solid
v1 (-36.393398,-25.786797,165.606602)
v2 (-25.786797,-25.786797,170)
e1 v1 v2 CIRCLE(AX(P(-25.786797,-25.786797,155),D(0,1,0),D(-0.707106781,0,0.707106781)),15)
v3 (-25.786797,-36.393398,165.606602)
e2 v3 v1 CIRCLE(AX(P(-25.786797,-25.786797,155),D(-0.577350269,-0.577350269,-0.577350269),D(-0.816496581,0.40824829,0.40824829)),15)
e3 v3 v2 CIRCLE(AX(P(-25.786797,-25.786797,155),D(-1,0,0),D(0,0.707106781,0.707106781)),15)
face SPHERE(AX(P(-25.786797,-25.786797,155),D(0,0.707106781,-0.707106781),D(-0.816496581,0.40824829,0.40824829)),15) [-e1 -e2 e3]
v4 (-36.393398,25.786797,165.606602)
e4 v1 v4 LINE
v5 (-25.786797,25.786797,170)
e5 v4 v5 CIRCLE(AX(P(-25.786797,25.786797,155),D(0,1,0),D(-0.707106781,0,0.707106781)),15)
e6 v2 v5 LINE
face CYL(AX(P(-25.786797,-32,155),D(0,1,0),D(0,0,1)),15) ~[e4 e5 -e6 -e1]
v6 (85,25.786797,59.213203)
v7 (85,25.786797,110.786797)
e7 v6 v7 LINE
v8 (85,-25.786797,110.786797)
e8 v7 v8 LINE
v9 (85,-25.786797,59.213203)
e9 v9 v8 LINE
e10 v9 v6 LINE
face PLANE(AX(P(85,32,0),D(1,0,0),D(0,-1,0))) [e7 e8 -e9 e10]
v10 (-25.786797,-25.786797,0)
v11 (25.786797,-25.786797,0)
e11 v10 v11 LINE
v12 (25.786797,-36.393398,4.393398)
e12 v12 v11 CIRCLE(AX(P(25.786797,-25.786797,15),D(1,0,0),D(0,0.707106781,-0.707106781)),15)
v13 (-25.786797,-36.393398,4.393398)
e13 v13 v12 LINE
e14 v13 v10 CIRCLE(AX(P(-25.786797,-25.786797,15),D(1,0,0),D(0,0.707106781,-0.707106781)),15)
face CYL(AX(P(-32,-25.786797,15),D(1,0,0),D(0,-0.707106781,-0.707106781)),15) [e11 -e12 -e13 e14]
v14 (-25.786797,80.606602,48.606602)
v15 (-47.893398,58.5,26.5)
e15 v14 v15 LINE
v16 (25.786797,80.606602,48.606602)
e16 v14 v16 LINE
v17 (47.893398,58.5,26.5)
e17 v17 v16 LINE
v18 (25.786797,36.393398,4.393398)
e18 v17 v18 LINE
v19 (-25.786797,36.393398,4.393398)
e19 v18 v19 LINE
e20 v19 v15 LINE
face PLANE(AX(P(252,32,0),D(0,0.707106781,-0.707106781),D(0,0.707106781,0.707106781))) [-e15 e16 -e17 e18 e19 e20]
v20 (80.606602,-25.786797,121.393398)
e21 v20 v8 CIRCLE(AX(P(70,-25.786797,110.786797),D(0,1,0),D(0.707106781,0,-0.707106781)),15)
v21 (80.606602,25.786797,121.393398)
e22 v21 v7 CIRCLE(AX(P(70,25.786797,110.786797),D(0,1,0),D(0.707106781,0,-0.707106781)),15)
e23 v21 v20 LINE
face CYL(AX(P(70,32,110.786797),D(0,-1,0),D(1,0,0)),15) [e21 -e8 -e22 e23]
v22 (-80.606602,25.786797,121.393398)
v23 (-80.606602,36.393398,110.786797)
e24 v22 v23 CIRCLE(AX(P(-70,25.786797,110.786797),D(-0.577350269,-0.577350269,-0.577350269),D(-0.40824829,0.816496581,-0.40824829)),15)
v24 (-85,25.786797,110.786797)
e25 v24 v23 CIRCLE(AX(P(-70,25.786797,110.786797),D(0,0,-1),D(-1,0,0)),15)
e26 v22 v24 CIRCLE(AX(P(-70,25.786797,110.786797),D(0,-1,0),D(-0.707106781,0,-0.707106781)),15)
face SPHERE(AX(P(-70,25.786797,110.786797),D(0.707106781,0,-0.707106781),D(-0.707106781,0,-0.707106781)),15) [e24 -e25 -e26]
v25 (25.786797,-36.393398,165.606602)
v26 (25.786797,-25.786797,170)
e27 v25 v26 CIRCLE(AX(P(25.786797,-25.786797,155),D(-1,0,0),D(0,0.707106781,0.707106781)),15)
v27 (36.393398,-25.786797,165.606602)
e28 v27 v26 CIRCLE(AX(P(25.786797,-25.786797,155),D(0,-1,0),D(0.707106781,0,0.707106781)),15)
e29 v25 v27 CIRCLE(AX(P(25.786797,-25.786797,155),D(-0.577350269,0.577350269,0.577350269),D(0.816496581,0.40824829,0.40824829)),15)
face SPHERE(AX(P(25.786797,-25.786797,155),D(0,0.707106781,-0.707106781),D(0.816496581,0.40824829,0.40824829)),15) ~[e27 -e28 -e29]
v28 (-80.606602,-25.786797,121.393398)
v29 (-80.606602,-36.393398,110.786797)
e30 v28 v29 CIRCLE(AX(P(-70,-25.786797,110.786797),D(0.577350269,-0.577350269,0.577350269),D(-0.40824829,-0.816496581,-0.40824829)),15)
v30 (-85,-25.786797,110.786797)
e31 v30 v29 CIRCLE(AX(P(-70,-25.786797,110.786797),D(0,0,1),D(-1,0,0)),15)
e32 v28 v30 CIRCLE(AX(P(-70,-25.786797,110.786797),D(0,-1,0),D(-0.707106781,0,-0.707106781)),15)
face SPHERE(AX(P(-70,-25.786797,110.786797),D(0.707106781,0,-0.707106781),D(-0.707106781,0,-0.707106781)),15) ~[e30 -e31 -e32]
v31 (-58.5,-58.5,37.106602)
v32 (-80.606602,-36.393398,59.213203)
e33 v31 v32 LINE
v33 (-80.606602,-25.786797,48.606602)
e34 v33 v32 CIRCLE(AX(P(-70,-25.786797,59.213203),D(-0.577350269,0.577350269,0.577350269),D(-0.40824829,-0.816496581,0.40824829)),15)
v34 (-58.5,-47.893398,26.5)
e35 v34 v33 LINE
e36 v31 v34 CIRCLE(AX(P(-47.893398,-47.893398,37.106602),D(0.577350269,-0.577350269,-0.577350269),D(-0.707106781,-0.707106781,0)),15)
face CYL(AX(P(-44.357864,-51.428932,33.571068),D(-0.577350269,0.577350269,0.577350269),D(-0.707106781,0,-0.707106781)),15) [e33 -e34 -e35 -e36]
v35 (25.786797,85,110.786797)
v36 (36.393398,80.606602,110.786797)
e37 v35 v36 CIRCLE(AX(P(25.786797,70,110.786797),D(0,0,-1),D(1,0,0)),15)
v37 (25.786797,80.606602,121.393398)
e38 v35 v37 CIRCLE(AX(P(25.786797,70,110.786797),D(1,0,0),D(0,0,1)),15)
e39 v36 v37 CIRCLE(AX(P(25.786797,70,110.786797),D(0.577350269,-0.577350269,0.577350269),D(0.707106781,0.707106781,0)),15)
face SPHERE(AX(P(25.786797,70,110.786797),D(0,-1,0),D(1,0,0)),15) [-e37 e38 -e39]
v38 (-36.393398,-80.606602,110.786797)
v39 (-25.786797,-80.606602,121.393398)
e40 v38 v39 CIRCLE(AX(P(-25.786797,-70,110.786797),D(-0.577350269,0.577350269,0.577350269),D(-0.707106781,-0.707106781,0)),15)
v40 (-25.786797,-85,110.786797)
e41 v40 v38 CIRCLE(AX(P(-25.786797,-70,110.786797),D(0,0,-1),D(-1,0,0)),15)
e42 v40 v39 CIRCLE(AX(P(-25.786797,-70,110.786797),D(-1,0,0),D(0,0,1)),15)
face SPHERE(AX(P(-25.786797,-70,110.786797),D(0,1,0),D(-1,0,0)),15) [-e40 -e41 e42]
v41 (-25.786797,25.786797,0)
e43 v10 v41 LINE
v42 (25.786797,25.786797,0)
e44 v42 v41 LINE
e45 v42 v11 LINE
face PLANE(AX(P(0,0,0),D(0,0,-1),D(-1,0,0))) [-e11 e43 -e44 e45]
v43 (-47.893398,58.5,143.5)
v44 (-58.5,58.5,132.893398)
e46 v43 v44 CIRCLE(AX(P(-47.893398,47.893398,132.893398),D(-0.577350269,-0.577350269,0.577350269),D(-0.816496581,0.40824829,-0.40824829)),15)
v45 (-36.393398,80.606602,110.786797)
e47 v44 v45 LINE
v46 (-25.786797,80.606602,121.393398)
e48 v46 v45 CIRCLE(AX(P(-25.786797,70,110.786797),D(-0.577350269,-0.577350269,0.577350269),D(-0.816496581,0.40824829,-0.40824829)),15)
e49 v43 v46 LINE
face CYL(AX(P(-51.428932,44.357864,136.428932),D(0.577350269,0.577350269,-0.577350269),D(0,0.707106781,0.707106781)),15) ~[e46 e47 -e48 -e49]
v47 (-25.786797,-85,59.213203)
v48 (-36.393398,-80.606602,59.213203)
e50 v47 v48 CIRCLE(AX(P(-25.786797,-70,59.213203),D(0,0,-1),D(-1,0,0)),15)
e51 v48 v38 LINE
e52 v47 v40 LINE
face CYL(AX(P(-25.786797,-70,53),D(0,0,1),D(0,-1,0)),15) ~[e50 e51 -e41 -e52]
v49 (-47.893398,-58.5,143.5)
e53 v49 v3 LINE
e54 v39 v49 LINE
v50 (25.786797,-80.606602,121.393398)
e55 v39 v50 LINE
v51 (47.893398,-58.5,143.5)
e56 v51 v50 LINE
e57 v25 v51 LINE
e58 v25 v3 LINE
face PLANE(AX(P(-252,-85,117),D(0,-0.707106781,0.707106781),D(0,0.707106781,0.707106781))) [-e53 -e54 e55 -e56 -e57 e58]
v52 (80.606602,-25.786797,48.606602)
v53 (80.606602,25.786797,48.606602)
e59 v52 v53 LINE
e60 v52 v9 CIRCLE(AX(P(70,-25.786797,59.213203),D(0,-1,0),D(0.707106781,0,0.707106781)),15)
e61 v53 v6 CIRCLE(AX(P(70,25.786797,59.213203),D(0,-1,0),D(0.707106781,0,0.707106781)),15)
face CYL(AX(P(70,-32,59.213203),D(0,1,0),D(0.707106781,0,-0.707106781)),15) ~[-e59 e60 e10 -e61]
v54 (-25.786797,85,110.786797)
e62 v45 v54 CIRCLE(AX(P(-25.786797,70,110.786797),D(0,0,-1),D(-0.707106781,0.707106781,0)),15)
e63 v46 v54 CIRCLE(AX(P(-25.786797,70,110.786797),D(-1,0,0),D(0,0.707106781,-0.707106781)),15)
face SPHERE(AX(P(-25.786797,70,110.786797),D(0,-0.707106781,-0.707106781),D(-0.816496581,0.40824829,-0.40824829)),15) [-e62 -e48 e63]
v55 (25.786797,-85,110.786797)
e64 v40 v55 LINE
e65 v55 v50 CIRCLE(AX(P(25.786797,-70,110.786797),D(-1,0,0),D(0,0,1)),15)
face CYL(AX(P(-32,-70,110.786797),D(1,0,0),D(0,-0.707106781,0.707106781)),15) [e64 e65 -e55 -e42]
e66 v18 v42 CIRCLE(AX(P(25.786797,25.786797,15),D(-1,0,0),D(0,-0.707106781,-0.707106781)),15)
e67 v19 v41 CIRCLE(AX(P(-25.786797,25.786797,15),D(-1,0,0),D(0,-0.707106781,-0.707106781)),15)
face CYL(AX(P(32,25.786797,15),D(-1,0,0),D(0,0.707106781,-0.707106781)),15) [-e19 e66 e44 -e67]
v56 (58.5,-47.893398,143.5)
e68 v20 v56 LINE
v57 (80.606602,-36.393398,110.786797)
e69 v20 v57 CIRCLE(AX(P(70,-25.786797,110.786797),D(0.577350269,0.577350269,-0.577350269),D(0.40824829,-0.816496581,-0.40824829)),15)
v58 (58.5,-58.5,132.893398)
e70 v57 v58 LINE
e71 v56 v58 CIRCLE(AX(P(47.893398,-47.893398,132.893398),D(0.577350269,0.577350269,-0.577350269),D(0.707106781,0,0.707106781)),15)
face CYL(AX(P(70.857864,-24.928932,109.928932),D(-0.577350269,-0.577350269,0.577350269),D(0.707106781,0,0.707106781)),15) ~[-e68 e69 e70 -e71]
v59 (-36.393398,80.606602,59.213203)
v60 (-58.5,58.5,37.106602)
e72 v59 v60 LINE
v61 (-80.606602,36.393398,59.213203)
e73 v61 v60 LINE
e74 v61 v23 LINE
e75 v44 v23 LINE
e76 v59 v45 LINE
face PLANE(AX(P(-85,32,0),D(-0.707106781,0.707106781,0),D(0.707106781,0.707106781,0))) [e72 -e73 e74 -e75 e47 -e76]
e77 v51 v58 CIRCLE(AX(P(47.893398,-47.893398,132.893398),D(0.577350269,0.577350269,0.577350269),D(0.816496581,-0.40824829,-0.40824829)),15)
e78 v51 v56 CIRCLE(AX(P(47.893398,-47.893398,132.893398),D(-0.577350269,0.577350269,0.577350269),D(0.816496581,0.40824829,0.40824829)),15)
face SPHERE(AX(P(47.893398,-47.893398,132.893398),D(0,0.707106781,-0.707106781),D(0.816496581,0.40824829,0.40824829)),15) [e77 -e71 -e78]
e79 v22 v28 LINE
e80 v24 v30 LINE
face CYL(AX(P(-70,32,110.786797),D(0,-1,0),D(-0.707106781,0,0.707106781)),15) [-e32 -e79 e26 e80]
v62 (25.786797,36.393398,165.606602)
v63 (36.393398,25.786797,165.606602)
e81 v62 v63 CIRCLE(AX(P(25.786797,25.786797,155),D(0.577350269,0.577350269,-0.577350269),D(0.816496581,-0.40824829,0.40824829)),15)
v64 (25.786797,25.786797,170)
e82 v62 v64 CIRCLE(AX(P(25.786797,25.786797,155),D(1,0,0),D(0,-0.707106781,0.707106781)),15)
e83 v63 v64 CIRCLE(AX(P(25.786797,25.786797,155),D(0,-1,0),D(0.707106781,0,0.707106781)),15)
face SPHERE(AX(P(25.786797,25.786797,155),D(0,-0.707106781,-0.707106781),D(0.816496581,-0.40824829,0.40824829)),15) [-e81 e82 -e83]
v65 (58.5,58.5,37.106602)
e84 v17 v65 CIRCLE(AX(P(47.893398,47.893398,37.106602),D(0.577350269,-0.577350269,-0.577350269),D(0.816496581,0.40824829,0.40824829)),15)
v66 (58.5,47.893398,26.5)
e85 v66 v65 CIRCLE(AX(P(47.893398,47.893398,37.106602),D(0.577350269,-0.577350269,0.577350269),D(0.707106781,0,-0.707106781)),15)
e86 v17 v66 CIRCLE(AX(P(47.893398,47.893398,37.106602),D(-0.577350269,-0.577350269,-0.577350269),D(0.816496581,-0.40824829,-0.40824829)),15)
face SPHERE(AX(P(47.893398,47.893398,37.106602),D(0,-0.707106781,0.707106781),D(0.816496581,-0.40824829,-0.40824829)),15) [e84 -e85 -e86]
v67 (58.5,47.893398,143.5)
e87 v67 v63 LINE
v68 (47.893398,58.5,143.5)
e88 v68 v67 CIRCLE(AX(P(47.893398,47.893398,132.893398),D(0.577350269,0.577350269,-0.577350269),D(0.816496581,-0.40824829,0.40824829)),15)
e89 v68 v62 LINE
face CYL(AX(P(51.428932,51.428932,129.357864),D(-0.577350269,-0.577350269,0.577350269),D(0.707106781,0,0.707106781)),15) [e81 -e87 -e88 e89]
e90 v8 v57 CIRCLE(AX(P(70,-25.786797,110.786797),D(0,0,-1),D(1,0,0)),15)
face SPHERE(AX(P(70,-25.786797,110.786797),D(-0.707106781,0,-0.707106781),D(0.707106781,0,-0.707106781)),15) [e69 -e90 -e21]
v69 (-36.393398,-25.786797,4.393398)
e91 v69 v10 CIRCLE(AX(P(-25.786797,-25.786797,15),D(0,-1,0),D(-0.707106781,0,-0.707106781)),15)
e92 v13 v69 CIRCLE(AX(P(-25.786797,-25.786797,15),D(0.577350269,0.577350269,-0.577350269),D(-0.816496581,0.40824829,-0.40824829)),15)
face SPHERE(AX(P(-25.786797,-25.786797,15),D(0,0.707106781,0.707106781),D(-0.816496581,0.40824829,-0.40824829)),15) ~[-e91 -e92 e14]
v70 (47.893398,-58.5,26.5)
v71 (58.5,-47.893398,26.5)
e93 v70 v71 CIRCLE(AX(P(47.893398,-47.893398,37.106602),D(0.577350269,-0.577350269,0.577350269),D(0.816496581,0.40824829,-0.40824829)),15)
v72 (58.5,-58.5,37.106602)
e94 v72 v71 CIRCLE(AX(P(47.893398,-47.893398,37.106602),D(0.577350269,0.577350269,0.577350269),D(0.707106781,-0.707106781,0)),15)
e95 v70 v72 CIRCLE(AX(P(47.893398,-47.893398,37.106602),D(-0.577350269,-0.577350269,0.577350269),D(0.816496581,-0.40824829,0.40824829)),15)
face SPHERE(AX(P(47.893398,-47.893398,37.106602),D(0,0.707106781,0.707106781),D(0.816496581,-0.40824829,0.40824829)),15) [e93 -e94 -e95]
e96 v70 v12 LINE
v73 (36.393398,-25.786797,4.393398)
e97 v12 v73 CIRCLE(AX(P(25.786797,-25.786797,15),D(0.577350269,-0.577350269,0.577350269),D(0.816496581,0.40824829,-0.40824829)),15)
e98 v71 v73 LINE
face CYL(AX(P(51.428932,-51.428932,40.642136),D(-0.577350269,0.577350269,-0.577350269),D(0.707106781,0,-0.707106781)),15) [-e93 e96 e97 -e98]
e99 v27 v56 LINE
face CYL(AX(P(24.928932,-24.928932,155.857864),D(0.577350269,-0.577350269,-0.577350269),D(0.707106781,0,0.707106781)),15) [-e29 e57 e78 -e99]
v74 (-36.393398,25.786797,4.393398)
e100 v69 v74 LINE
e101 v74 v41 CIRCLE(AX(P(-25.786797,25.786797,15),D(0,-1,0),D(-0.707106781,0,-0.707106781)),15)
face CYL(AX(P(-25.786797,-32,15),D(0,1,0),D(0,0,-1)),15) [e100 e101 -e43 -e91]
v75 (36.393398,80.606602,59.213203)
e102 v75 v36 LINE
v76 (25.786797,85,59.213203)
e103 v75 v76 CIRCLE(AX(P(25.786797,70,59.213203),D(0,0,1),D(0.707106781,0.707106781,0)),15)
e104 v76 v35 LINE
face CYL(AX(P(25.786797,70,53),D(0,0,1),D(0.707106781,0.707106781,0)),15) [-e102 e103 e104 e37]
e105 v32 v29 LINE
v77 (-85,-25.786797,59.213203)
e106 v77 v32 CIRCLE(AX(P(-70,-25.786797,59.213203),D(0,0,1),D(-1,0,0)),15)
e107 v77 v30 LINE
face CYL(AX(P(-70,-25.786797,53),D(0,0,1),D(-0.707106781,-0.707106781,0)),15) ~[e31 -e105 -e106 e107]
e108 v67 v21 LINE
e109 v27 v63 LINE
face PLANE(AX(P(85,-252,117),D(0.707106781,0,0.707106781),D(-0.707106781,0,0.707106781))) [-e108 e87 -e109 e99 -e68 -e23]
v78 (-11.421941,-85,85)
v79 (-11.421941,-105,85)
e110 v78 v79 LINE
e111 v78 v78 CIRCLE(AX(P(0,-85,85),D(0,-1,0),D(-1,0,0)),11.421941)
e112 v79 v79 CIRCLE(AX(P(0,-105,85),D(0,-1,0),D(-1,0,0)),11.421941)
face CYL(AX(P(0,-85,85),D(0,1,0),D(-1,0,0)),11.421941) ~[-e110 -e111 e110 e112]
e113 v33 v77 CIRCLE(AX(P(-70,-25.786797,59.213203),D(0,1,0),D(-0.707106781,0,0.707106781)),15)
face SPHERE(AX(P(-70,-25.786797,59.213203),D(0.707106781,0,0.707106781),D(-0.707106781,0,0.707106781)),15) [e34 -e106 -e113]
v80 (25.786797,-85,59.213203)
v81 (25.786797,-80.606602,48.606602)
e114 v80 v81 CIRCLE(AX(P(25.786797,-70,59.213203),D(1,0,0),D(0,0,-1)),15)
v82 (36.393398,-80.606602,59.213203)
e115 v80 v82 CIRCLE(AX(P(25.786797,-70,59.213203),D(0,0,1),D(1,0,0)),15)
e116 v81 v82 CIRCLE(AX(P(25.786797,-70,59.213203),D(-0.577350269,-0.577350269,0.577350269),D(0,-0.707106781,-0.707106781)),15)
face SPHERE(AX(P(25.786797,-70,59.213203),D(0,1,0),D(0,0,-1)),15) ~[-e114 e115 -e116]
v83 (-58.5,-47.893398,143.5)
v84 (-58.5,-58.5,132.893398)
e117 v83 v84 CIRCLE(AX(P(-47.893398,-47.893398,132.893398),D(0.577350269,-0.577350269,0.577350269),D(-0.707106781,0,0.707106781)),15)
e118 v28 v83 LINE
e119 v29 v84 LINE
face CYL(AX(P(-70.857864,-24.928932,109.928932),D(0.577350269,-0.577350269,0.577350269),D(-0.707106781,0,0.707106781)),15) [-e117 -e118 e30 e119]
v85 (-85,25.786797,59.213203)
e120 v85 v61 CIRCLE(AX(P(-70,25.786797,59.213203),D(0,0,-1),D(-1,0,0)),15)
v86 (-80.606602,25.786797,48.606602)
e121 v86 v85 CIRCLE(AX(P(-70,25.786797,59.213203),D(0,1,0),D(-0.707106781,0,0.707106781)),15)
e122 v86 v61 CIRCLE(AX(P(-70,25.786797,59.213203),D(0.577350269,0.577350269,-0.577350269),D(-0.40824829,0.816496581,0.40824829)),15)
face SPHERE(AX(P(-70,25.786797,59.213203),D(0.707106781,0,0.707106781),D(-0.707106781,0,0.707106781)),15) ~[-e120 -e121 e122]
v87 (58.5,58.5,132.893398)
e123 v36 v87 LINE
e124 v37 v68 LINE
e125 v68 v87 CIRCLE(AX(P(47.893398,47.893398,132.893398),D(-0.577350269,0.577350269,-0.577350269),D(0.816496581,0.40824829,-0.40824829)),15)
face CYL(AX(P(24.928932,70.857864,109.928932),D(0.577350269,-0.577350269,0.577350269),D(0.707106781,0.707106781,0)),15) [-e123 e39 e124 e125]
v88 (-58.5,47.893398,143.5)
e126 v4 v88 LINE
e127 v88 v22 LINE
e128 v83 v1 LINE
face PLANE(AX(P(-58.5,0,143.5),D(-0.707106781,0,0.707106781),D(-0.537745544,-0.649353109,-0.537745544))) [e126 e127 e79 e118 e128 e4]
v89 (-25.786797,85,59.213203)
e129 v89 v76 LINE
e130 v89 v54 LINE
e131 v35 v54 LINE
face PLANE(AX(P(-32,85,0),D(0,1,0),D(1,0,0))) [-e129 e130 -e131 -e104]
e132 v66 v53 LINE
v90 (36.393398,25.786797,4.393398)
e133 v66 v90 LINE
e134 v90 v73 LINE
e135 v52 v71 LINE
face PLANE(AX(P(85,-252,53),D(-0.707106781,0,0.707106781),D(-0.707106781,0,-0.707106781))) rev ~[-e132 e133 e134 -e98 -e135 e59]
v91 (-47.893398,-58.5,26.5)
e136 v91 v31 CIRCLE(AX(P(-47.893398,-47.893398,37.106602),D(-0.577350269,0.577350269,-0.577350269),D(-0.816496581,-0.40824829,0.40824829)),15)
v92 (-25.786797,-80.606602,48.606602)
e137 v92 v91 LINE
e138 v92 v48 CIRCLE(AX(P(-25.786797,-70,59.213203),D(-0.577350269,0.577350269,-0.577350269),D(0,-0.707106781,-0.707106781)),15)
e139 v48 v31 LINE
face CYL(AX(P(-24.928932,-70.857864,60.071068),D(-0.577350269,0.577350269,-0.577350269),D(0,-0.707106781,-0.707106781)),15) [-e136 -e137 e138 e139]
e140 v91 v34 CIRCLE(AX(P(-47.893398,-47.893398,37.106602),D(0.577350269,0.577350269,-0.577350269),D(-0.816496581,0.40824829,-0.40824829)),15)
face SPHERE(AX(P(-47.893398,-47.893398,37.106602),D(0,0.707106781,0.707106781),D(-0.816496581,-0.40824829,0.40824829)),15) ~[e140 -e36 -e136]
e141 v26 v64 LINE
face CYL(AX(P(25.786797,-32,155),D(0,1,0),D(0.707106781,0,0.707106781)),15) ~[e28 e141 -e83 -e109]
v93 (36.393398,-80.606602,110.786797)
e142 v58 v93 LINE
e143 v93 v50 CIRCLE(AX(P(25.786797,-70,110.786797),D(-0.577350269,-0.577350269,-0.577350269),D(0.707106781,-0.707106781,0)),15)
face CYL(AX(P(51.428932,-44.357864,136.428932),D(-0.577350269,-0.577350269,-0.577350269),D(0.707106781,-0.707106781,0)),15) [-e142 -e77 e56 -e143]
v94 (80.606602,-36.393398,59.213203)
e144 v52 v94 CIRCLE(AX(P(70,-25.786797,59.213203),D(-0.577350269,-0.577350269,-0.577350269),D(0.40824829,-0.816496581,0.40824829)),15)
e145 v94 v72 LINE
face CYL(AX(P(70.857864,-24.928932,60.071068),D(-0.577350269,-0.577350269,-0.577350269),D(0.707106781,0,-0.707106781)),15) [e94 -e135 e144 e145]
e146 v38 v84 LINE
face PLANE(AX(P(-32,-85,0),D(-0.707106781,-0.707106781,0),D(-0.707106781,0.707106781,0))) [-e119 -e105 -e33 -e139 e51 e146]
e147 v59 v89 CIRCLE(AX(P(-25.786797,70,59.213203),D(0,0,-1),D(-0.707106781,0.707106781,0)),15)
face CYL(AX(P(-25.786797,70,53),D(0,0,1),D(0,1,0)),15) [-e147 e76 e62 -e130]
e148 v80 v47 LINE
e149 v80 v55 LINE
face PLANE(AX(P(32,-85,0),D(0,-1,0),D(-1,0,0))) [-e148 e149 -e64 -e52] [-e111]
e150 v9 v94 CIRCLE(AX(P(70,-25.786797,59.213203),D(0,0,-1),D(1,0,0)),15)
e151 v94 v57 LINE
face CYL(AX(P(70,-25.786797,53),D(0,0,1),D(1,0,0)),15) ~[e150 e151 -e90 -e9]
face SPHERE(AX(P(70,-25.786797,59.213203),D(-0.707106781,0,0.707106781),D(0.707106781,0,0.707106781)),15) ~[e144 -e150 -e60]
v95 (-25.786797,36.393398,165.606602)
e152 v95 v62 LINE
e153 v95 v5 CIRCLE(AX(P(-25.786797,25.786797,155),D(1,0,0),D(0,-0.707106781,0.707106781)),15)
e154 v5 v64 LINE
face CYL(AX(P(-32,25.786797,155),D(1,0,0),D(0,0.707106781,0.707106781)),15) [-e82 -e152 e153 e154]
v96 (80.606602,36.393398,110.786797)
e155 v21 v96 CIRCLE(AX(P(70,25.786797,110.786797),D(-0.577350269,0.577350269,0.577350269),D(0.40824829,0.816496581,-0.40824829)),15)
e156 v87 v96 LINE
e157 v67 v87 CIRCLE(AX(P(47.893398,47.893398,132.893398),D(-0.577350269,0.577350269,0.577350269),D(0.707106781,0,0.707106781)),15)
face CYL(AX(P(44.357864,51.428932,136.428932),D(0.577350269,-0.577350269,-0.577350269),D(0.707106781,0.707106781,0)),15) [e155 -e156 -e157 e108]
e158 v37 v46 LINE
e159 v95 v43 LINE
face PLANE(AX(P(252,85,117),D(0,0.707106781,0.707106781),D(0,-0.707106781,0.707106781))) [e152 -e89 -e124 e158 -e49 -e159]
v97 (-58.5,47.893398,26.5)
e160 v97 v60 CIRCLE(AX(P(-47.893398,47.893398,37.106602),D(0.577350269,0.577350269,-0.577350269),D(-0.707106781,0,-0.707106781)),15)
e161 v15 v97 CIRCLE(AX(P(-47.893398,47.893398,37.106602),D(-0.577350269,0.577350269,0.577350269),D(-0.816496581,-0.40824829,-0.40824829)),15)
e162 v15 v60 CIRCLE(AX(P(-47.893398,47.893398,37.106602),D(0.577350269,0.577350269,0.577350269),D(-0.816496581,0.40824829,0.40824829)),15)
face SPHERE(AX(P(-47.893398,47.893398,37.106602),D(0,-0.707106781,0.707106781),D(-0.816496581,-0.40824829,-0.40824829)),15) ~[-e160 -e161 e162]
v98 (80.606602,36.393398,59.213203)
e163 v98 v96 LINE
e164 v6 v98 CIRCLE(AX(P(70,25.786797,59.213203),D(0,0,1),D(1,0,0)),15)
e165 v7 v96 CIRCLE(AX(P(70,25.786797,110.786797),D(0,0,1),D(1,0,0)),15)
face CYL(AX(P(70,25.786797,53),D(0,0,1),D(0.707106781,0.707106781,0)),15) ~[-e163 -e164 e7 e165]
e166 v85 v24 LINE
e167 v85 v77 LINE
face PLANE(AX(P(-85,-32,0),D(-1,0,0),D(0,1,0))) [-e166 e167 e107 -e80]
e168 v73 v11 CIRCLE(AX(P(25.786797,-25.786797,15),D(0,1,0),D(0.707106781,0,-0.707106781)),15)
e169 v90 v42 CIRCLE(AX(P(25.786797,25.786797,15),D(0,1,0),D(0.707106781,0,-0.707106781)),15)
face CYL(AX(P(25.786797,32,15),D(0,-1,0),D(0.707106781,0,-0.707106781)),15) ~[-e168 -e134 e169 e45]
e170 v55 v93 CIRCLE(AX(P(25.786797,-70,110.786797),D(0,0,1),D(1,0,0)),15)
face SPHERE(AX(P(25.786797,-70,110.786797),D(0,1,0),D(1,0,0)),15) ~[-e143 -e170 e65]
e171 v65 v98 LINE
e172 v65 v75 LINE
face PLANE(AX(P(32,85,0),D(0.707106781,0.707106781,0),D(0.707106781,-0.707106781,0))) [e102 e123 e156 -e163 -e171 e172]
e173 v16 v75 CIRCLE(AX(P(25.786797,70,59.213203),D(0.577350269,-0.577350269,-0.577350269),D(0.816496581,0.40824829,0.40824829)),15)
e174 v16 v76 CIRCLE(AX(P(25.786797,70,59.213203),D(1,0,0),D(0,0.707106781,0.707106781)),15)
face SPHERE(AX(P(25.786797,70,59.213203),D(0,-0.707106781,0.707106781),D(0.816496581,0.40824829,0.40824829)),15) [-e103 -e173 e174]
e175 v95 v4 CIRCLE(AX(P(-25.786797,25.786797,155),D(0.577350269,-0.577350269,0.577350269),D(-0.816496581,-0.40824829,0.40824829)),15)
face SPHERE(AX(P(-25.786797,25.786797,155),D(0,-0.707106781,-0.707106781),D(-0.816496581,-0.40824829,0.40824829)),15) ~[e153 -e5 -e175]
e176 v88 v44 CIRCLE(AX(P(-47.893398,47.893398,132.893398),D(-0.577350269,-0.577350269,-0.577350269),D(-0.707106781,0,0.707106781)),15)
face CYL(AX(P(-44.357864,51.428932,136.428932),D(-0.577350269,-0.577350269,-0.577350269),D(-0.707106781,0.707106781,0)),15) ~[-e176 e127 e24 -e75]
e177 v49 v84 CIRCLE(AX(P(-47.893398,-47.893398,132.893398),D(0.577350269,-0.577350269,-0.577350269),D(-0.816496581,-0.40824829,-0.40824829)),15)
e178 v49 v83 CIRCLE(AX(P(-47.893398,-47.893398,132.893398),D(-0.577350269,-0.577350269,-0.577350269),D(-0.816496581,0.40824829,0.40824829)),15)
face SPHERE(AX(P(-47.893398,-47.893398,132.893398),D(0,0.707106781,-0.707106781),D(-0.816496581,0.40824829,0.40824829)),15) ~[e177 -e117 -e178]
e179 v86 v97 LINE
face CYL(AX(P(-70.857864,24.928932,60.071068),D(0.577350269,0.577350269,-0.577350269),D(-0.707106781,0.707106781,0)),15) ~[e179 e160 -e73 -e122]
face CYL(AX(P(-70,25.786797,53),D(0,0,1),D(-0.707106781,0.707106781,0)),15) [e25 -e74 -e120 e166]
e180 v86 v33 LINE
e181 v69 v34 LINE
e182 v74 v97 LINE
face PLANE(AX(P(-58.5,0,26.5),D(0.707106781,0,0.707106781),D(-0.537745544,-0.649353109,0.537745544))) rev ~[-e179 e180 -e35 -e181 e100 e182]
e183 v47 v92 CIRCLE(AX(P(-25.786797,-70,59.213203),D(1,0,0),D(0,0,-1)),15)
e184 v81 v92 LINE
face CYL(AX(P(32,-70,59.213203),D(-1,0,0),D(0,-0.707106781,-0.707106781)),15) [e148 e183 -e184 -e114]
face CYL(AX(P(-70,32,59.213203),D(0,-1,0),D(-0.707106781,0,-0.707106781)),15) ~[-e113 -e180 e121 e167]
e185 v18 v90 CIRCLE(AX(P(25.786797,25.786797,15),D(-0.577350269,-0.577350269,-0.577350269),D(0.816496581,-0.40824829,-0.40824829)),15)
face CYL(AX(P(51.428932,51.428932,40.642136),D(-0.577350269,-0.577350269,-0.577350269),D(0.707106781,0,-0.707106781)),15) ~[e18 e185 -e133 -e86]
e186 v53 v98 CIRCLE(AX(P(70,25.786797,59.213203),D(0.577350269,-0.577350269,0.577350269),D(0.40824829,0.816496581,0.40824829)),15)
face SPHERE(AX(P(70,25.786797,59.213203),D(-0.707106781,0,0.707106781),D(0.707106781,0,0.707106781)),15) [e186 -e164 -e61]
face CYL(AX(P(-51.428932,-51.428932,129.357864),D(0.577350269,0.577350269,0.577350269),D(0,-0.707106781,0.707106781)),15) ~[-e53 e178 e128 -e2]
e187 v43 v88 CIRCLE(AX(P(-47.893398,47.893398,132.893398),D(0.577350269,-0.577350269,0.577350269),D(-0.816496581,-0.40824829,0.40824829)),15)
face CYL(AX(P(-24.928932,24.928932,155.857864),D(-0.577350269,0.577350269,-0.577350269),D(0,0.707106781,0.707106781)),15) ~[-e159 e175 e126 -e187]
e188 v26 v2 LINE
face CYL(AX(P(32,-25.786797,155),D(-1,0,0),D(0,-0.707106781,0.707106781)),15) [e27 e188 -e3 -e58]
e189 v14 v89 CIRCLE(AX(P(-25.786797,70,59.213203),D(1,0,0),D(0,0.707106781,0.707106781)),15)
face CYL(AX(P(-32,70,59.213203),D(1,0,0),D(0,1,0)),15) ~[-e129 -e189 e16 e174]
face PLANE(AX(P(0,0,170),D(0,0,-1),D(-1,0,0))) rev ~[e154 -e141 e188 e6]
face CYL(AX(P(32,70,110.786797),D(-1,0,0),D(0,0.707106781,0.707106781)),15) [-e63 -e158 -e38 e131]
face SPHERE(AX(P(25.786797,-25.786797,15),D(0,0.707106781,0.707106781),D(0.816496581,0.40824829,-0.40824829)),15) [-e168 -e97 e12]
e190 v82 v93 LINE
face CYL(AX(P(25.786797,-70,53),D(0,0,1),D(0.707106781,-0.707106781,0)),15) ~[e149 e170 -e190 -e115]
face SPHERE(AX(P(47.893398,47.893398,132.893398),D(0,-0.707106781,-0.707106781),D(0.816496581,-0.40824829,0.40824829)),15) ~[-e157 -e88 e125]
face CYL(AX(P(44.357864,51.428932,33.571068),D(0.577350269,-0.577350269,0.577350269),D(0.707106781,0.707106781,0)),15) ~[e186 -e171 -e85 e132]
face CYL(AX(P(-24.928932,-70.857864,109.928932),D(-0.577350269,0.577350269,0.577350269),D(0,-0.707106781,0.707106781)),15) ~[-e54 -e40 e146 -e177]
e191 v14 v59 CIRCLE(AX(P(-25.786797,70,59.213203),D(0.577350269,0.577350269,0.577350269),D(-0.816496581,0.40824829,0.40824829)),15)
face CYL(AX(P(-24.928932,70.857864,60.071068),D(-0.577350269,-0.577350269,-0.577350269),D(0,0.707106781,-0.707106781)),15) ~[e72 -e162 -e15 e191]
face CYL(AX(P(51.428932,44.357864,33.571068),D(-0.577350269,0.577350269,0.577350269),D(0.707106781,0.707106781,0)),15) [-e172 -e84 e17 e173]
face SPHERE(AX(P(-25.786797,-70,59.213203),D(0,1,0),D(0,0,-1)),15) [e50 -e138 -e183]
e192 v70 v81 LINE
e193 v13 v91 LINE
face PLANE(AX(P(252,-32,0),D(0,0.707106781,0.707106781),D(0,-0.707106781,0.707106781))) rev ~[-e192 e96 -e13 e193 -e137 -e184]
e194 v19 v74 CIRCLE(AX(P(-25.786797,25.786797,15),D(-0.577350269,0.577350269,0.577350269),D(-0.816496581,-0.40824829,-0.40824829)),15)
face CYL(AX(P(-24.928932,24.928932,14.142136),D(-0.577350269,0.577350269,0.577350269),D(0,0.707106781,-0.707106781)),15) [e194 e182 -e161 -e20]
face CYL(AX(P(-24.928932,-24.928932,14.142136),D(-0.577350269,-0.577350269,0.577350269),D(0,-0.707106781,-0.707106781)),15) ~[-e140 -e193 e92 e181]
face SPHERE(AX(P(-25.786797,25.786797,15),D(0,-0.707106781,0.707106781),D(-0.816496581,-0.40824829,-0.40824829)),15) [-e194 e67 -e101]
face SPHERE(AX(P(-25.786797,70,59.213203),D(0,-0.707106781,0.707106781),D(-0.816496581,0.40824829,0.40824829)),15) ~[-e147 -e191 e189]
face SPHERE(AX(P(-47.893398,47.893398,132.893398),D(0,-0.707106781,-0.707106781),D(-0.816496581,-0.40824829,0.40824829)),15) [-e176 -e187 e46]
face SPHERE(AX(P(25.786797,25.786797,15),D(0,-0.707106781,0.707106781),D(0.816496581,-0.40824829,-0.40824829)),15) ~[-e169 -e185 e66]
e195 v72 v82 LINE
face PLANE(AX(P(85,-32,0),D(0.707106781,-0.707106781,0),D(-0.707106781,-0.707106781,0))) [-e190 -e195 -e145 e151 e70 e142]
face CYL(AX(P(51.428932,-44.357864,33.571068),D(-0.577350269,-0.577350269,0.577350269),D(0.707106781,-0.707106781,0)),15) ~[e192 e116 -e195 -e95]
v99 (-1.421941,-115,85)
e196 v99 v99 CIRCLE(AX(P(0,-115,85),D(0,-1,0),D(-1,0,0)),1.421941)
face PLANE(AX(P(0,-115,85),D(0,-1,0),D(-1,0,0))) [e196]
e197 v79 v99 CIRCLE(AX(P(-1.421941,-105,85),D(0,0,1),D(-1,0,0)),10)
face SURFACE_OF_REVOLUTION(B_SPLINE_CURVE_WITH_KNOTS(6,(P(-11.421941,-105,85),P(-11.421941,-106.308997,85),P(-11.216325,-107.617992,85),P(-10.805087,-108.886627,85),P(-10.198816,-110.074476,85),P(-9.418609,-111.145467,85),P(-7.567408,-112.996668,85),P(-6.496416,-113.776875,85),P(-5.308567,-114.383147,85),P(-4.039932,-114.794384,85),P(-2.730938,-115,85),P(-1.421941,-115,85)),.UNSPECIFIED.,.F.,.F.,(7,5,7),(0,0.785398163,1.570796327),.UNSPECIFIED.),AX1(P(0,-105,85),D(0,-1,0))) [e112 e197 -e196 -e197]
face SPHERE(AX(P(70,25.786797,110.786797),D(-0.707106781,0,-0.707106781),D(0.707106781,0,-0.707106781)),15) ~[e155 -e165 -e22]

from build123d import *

# Parameters (mm, degrees)
BOSS_EXTRU_1_DEPTH            = 170
ENL_V_MAT_EXTRU_1_DEPTH       = 220
ENL_V_MAT_EXTRU_2_DEPTH       = 220
ENL_V_MAT_EXTRU_3_DEPTH       = 220
ENL_V_MAT_EXTRU_4_DEPTH       = 220
ENL_V_MAT_EXTRU_11_DEPTH      = 220
ENL_V_MAT_EXTRU_13_DEPTH      = 220
ENL_V_MAT_EXTRU_13_DEPTH_BACK = 220
ENL_V_MAT_EXTRU_14_DEPTH      = 220
ENL_V_MAT_EXTRU_15_DEPTH      = 220
ENL_V_MAT_EXTRU_15_DEPTH_BACK = 220
ENL_V_MAT_EXTRU_16_DEPTH      = 220
ENL_V_MAT_EXTRU_17_DEPTH      = 220
ENL_V_MAT_EXTRU_17_DEPTH_BACK = 220
ENL_V_MAT_EXTRU_18_DEPTH      = 220
ENL_V_MAT_EXTRU_19_DEPTH      = 220
ENL_V_MAT_EXTRU_19_DEPTH_BACK = 220
ENL_V_MAT_EXTRU_20_DEPTH      = 220
ENL_V_MAT_EXTRU_20_DEPTH_BACK = 220
ENL_V_MAT_EXTRU_21_DEPTH      = 220
ENL_V_MAT_EXTRU_21_DEPTH_BACK = 220
ENL_V_MAT_EXTRU_22_DEPTH      = 220
ENL_V_MAT_EXTRU_22_DEPTH_BACK = 220
ENL_V_MAT_EXTRU_23_DEPTH      = 220
ENL_V_MAT_EXTRU_23_DEPTH_BACK = 220
CONG_2_R                      = 15
ESQUISSE26_R                  = 11.42194069
BOSS_EXTRU_2_DEPTH            = 30
CONG_6_R                      = 10


with BuildPart() as part:
    # Esquisse1 → Boss.-Extru.1 (new body)
    with BuildSketch(Plane.XY):
        Polygon((-32, 85), (32, 85), (85, 32), (85, -32), (32, -85), (-32, -85), (-85, -32), (-85, 32), align=None)
    extrude(amount=BOSS_EXTRU_1_DEPTH)

    # Esquisse3D3 → Enlèv. mat.-Extru.1 (cut, along a direction that is not the sketch's normal)
    with BuildSketch(Plane(origin=(-32, 85, 117), x_dir=(0.6493531093113899, -0.5377455436484948, 0.5377455436484945), z_dir=(0, 0.7071067811865474, 0.7071067811865478))):
        Polygon((0, 0), (57.001027627, -48.67117062), (98.559626623, 0), (41.558598996, 48.67117062), align=None)
    extrude(amount=ENL_V_MAT_EXTRU_1_DEPTH, dir=(0, 0, 1), mode=Mode.SUBTRACT)

    # Esquisse3D4 → Enlèv. mat.-Extru.2 (cut, along a direction that is not the sketch's normal)
    with BuildSketch(Plane(origin=(32, 85, 53), x_dir=(-0.6493531093113893, -0.537745543648495, -0.537745543648495), z_dir=(0, -0.7071067811865476, 0.7071067811865476))):
        Polygon((0, 0), (57.001027627, 48.67117062), (98.559626623, 0), (41.558598996, -48.67117062), align=None)
    extrude(amount=-ENL_V_MAT_EXTRU_2_DEPTH, dir=(0, 0, 1), mode=Mode.SUBTRACT)

    # Esquisse3D5 → Enlèv. mat.-Extru.3 (cut, along a direction that is not the sketch's normal)
    with BuildSketch(Plane(origin=(-32, -85, 53), x_dir=(0.6493531093113899, 0.5377455436484946, -0.5377455436484948), z_dir=(0, 0.7071067811865479, 0.7071067811865472))):
        Polygon((0, 0), (57.001027627, 48.67117062), (98.559626623, 0), (41.558598996, -48.67117062), align=None)
    extrude(amount=-ENL_V_MAT_EXTRU_3_DEPTH, dir=(0, 0, 1), mode=Mode.SUBTRACT)

    # Esquisse3D6 → Enlèv. mat.-Extru.4 (cut, along a direction that is not the sketch's normal)
    with BuildSketch(Plane(origin=(32, -85, 117), x_dir=(-0.6493531093113899, 0.5377455436484946, 0.5377455436484947), z_dir=(0, 0.7071067811865476, -0.7071067811865476))):
        Polygon((0, 0), (57.001027627, 48.67117062), (98.559626623, 0), (41.558598996, -48.67117062), align=None)
    extrude(amount=-ENL_V_MAT_EXTRU_4_DEPTH, dir=(0, 0, -1), mode=Mode.SUBTRACT)

    # Esquisse3D13 → Enlèv. mat.-Extru.11 (cut, along a direction that is not the sketch's normal)
    with BuildSketch(Plane(origin=(32, 32, 170), x_dir=(0.5377455436484943, -0.6493531093113897, -0.5377455436484953), z_dir=(-0.7071067811865481, 0, -0.7071067811865469))):
        Polygon((0, 0), (57.001027627, -48.67117062), (98.559626623, 0), (41.558598996, 48.67117062), align=None)
    extrude(amount=-ENL_V_MAT_EXTRU_11_DEPTH, dir=(-1, 0, 0), mode=Mode.SUBTRACT)

    # Esquisse16 → Enlèv. mat.-Extru.13 (cut, two sides: drawn at the far end of the back side and taken through both)
    with BuildSketch(Plane(origin=(0, -32, 0), x_dir=(1, 0, 0), z_dir=(0, 1, 0)).offset(-ENL_V_MAT_EXTRU_13_DEPTH_BACK)):
        Polygon((32, -170), (85, -170), (85, -117), align=None)
    extrude(amount=ENL_V_MAT_EXTRU_13_DEPTH + ENL_V_MAT_EXTRU_13_DEPTH_BACK, mode=Mode.SUBTRACT)

    # Esquisse3D15 → Enlèv. mat.-Extru.14 (cut, along a direction that is not the sketch's normal)
    with BuildSketch(Plane(origin=(-85, -32, 117), x_dir=(0.5377455436484945, 0.6493531093113897, 0.5377455436484953), z_dir=(0.707106781186548, 0, -0.707106781186547))):
        Polygon((0, 0), (57.001027627, 48.67117062), (98.559626623, 0), (41.558598996, -48.67117062), align=None)
    extrude(amount=-ENL_V_MAT_EXTRU_14_DEPTH, dir=(0, 0, -1), mode=Mode.SUBTRACT)

    # Esquisse17 → Enlèv. mat.-Extru.15 (cut, two sides: drawn at the far end of the back side and taken through both)
    with BuildSketch(Plane(origin=(0, -32, 0), x_dir=(1, 0, 0), z_dir=(0, 1, 0)).offset(-ENL_V_MAT_EXTRU_15_DEPTH_BACK)):
        Polygon((-85, -117), (-32, -170), (-85, -170), align=None)
    extrude(amount=ENL_V_MAT_EXTRU_15_DEPTH + ENL_V_MAT_EXTRU_15_DEPTH_BACK, mode=Mode.SUBTRACT)

    # Esquisse3D16 → Enlèv. mat.-Extru.16 (cut, along a direction that is not the sketch's normal)
    with BuildSketch(Plane(origin=(-32, 32, 0), x_dir=(-0.5377455436484945, -0.6493531093113896, 0.5377455436484951), z_dir=(0.7071067811865479, 0, 0.7071067811865471))):
        Polygon((0, 0), (57.001027627, -48.67117062), (98.559626623, 0), (41.558598996, 48.67117062), align=None)
    extrude(amount=-ENL_V_MAT_EXTRU_16_DEPTH, dir=(0, 0, 1), mode=Mode.SUBTRACT)

    # Esquisse18 → Enlèv. mat.-Extru.17 (cut, two sides: drawn at the far end of the back side and taken through both)
    with BuildSketch(Plane(origin=(0, -32, 0), x_dir=(1, 0, 0), z_dir=(0, 1, 0)).offset(-ENL_V_MAT_EXTRU_17_DEPTH_BACK)):
        Polygon((-32, 0), (-85, -53), (-85, 0), align=None)
    extrude(amount=ENL_V_MAT_EXTRU_17_DEPTH + ENL_V_MAT_EXTRU_17_DEPTH_BACK, mode=Mode.SUBTRACT)

    # Esquisse3D17 → Enlèv. mat.-Extru.18 (cut, along a direction that is not the sketch's normal)
    with BuildSketch(Plane(origin=(85, 32, 53), x_dir=(-0.5377455436484941, -0.6493531093113903, -0.5377455436484949), z_dir=(0.707106781186548, 0, -0.707106781186547))):
        Polygon((0, 0), (57.001027627, 48.67117062), (98.559626623, 0), (41.558598996, -48.67117062), align=None)
    extrude(amount=ENL_V_MAT_EXTRU_18_DEPTH, dir=(0, 0, -1), mode=Mode.SUBTRACT)

    # Esquisse19 → Enlèv. mat.-Extru.19 (cut, two sides: drawn at the far end of the back side and taken through both)
    with BuildSketch(Plane(origin=(0, -32, 0), x_dir=(1, 0, 0), z_dir=(0, 1, 0)).offset(-ENL_V_MAT_EXTRU_19_DEPTH_BACK)):
        Polygon((85, -53), (32, 0), (85, 0), align=None)
    extrude(amount=ENL_V_MAT_EXTRU_19_DEPTH + ENL_V_MAT_EXTRU_19_DEPTH_BACK, mode=Mode.SUBTRACT)

    # Esquisse21 → Enlèv. mat.-Extru.20 (cut, two sides: drawn at the far end of the back side and taken through both)
    with BuildSketch(Plane.ZY.offset(-32).offset(-ENL_V_MAT_EXTRU_20_DEPTH_BACK)):
        Polygon((117, 85), (170, 32), (170, 85), align=None)
    extrude(amount=ENL_V_MAT_EXTRU_20_DEPTH + ENL_V_MAT_EXTRU_20_DEPTH_BACK, mode=Mode.SUBTRACT)

    # Esquisse23 → Enlèv. mat.-Extru.21 (cut, two sides: drawn at the far end of the back side and taken through both)
    with BuildSketch(Plane.ZY.offset(-32).offset(-ENL_V_MAT_EXTRU_21_DEPTH_BACK)):
        Polygon((0, 32), (53, 85), (0, 85), align=None)
    extrude(amount=ENL_V_MAT_EXTRU_21_DEPTH + ENL_V_MAT_EXTRU_21_DEPTH_BACK, mode=Mode.SUBTRACT)

    # Esquisse24 → Enlèv. mat.-Extru.22 (cut, two sides: drawn at the far end of the back side and taken through both)
    with BuildSketch(Plane.ZY.offset(-32).offset(-ENL_V_MAT_EXTRU_22_DEPTH_BACK)):
        Polygon((0, -32), (53, -85), (0, -85), align=None)
    extrude(amount=ENL_V_MAT_EXTRU_22_DEPTH + ENL_V_MAT_EXTRU_22_DEPTH_BACK, mode=Mode.SUBTRACT)

    # Esquisse25 → Enlèv. mat.-Extru.23 (cut, two sides: drawn at the far end of the back side and taken through both)
    with BuildSketch(Plane(origin=(-32, 0, 0), x_dir=(0, 0, -1), z_dir=(1, 0, 0)).offset(-ENL_V_MAT_EXTRU_23_DEPTH_BACK)):
        Polygon((-170, -32), (-170, -85), (-117, -85), align=None)
    extrude(amount=ENL_V_MAT_EXTRU_23_DEPTH + ENL_V_MAT_EXTRU_23_DEPTH_BACK, mode=Mode.SUBTRACT)

    # Congé2
    cong_2_edges = [part.edges().sort_by_distance(p)[0] for p in [
        (85, 32, 85),
        (85, -32, 85),
        (32, 0, 170),
        (85, 0, 117),
        (71.75, 45.25, 130.25),
        (-85, -32, 85),
        (-85, 32, 85),
        (-32, 0, 170),
        (-85, 0, 117),
        (-71.75, -45.25, 130.25),
        (-32, 0, 0),
        (-85, 0, 53),
        (-71.75, 45.25, 39.75),
        (85, 0, 53),
        (32, 0, 0),
        (71.75, -45.25, 39.75),
        (-71.75, 45.25, 130.25),
        (-45.25, 45.25, 156.75),
        (-32, 85, 85),
        (45.25, 45.25, 156.75),
        (45.25, 71.75, 130.25),
        (-45.25, 71.75, 130.25),
        (32, 85, 85),
        (71.75, 45.25, 39.75),
        (45.25, 45.25, 13.25),
        (-45.25, 45.25, 13.25),
        (-45.25, 71.75, 39.75),
        (45.25, 71.75, 39.75),
        (-71.75, -45.25, 39.75),
        (0, 32, 170),
        (-45.25, -71.75, 39.75),
        (-45.25, -45.25, 13.25),
        (45.25, -71.75, 39.75),
        (45.25, -45.25, 13.25),
        (0, 85, 117),
        (71.75, -45.25, 130.25),
        (-45.25, -45.25, 156.75),
        (-45.25, -71.75, 130.25),
        (45.25, -45.25, 156.75),
        (45.25, -71.75, 130.25),
        (0, 85, 53),
        (0, 32, 0),
        (0, -85, 53),
        (0, -32, 0),
        (32, -85, 85),
        (-32, -85, 85),
        (0, -32, 170),
        (0, -85, 117),
    ]]
    fillet(cong_2_edges, radius=CONG_2_R)

    # Esquisse26 → Boss.-Extru.2 (add)
    with BuildSketch(Plane.XZ.offset(85)):
        with Locations(Location((0, 85, 0), (0, 0, 180))):
            Circle(ESQUISSE26_R)
    extrude(amount=BOSS_EXTRU_2_DEPTH)

    # Congé6
    cong_6_edges = [part.edges().sort_by_distance(p)[0] for p in [
        (11.42194069, -115, 85),
    ]]
    fillet(cong_6_edges, radius=CONG_6_R)


solid = part.part
